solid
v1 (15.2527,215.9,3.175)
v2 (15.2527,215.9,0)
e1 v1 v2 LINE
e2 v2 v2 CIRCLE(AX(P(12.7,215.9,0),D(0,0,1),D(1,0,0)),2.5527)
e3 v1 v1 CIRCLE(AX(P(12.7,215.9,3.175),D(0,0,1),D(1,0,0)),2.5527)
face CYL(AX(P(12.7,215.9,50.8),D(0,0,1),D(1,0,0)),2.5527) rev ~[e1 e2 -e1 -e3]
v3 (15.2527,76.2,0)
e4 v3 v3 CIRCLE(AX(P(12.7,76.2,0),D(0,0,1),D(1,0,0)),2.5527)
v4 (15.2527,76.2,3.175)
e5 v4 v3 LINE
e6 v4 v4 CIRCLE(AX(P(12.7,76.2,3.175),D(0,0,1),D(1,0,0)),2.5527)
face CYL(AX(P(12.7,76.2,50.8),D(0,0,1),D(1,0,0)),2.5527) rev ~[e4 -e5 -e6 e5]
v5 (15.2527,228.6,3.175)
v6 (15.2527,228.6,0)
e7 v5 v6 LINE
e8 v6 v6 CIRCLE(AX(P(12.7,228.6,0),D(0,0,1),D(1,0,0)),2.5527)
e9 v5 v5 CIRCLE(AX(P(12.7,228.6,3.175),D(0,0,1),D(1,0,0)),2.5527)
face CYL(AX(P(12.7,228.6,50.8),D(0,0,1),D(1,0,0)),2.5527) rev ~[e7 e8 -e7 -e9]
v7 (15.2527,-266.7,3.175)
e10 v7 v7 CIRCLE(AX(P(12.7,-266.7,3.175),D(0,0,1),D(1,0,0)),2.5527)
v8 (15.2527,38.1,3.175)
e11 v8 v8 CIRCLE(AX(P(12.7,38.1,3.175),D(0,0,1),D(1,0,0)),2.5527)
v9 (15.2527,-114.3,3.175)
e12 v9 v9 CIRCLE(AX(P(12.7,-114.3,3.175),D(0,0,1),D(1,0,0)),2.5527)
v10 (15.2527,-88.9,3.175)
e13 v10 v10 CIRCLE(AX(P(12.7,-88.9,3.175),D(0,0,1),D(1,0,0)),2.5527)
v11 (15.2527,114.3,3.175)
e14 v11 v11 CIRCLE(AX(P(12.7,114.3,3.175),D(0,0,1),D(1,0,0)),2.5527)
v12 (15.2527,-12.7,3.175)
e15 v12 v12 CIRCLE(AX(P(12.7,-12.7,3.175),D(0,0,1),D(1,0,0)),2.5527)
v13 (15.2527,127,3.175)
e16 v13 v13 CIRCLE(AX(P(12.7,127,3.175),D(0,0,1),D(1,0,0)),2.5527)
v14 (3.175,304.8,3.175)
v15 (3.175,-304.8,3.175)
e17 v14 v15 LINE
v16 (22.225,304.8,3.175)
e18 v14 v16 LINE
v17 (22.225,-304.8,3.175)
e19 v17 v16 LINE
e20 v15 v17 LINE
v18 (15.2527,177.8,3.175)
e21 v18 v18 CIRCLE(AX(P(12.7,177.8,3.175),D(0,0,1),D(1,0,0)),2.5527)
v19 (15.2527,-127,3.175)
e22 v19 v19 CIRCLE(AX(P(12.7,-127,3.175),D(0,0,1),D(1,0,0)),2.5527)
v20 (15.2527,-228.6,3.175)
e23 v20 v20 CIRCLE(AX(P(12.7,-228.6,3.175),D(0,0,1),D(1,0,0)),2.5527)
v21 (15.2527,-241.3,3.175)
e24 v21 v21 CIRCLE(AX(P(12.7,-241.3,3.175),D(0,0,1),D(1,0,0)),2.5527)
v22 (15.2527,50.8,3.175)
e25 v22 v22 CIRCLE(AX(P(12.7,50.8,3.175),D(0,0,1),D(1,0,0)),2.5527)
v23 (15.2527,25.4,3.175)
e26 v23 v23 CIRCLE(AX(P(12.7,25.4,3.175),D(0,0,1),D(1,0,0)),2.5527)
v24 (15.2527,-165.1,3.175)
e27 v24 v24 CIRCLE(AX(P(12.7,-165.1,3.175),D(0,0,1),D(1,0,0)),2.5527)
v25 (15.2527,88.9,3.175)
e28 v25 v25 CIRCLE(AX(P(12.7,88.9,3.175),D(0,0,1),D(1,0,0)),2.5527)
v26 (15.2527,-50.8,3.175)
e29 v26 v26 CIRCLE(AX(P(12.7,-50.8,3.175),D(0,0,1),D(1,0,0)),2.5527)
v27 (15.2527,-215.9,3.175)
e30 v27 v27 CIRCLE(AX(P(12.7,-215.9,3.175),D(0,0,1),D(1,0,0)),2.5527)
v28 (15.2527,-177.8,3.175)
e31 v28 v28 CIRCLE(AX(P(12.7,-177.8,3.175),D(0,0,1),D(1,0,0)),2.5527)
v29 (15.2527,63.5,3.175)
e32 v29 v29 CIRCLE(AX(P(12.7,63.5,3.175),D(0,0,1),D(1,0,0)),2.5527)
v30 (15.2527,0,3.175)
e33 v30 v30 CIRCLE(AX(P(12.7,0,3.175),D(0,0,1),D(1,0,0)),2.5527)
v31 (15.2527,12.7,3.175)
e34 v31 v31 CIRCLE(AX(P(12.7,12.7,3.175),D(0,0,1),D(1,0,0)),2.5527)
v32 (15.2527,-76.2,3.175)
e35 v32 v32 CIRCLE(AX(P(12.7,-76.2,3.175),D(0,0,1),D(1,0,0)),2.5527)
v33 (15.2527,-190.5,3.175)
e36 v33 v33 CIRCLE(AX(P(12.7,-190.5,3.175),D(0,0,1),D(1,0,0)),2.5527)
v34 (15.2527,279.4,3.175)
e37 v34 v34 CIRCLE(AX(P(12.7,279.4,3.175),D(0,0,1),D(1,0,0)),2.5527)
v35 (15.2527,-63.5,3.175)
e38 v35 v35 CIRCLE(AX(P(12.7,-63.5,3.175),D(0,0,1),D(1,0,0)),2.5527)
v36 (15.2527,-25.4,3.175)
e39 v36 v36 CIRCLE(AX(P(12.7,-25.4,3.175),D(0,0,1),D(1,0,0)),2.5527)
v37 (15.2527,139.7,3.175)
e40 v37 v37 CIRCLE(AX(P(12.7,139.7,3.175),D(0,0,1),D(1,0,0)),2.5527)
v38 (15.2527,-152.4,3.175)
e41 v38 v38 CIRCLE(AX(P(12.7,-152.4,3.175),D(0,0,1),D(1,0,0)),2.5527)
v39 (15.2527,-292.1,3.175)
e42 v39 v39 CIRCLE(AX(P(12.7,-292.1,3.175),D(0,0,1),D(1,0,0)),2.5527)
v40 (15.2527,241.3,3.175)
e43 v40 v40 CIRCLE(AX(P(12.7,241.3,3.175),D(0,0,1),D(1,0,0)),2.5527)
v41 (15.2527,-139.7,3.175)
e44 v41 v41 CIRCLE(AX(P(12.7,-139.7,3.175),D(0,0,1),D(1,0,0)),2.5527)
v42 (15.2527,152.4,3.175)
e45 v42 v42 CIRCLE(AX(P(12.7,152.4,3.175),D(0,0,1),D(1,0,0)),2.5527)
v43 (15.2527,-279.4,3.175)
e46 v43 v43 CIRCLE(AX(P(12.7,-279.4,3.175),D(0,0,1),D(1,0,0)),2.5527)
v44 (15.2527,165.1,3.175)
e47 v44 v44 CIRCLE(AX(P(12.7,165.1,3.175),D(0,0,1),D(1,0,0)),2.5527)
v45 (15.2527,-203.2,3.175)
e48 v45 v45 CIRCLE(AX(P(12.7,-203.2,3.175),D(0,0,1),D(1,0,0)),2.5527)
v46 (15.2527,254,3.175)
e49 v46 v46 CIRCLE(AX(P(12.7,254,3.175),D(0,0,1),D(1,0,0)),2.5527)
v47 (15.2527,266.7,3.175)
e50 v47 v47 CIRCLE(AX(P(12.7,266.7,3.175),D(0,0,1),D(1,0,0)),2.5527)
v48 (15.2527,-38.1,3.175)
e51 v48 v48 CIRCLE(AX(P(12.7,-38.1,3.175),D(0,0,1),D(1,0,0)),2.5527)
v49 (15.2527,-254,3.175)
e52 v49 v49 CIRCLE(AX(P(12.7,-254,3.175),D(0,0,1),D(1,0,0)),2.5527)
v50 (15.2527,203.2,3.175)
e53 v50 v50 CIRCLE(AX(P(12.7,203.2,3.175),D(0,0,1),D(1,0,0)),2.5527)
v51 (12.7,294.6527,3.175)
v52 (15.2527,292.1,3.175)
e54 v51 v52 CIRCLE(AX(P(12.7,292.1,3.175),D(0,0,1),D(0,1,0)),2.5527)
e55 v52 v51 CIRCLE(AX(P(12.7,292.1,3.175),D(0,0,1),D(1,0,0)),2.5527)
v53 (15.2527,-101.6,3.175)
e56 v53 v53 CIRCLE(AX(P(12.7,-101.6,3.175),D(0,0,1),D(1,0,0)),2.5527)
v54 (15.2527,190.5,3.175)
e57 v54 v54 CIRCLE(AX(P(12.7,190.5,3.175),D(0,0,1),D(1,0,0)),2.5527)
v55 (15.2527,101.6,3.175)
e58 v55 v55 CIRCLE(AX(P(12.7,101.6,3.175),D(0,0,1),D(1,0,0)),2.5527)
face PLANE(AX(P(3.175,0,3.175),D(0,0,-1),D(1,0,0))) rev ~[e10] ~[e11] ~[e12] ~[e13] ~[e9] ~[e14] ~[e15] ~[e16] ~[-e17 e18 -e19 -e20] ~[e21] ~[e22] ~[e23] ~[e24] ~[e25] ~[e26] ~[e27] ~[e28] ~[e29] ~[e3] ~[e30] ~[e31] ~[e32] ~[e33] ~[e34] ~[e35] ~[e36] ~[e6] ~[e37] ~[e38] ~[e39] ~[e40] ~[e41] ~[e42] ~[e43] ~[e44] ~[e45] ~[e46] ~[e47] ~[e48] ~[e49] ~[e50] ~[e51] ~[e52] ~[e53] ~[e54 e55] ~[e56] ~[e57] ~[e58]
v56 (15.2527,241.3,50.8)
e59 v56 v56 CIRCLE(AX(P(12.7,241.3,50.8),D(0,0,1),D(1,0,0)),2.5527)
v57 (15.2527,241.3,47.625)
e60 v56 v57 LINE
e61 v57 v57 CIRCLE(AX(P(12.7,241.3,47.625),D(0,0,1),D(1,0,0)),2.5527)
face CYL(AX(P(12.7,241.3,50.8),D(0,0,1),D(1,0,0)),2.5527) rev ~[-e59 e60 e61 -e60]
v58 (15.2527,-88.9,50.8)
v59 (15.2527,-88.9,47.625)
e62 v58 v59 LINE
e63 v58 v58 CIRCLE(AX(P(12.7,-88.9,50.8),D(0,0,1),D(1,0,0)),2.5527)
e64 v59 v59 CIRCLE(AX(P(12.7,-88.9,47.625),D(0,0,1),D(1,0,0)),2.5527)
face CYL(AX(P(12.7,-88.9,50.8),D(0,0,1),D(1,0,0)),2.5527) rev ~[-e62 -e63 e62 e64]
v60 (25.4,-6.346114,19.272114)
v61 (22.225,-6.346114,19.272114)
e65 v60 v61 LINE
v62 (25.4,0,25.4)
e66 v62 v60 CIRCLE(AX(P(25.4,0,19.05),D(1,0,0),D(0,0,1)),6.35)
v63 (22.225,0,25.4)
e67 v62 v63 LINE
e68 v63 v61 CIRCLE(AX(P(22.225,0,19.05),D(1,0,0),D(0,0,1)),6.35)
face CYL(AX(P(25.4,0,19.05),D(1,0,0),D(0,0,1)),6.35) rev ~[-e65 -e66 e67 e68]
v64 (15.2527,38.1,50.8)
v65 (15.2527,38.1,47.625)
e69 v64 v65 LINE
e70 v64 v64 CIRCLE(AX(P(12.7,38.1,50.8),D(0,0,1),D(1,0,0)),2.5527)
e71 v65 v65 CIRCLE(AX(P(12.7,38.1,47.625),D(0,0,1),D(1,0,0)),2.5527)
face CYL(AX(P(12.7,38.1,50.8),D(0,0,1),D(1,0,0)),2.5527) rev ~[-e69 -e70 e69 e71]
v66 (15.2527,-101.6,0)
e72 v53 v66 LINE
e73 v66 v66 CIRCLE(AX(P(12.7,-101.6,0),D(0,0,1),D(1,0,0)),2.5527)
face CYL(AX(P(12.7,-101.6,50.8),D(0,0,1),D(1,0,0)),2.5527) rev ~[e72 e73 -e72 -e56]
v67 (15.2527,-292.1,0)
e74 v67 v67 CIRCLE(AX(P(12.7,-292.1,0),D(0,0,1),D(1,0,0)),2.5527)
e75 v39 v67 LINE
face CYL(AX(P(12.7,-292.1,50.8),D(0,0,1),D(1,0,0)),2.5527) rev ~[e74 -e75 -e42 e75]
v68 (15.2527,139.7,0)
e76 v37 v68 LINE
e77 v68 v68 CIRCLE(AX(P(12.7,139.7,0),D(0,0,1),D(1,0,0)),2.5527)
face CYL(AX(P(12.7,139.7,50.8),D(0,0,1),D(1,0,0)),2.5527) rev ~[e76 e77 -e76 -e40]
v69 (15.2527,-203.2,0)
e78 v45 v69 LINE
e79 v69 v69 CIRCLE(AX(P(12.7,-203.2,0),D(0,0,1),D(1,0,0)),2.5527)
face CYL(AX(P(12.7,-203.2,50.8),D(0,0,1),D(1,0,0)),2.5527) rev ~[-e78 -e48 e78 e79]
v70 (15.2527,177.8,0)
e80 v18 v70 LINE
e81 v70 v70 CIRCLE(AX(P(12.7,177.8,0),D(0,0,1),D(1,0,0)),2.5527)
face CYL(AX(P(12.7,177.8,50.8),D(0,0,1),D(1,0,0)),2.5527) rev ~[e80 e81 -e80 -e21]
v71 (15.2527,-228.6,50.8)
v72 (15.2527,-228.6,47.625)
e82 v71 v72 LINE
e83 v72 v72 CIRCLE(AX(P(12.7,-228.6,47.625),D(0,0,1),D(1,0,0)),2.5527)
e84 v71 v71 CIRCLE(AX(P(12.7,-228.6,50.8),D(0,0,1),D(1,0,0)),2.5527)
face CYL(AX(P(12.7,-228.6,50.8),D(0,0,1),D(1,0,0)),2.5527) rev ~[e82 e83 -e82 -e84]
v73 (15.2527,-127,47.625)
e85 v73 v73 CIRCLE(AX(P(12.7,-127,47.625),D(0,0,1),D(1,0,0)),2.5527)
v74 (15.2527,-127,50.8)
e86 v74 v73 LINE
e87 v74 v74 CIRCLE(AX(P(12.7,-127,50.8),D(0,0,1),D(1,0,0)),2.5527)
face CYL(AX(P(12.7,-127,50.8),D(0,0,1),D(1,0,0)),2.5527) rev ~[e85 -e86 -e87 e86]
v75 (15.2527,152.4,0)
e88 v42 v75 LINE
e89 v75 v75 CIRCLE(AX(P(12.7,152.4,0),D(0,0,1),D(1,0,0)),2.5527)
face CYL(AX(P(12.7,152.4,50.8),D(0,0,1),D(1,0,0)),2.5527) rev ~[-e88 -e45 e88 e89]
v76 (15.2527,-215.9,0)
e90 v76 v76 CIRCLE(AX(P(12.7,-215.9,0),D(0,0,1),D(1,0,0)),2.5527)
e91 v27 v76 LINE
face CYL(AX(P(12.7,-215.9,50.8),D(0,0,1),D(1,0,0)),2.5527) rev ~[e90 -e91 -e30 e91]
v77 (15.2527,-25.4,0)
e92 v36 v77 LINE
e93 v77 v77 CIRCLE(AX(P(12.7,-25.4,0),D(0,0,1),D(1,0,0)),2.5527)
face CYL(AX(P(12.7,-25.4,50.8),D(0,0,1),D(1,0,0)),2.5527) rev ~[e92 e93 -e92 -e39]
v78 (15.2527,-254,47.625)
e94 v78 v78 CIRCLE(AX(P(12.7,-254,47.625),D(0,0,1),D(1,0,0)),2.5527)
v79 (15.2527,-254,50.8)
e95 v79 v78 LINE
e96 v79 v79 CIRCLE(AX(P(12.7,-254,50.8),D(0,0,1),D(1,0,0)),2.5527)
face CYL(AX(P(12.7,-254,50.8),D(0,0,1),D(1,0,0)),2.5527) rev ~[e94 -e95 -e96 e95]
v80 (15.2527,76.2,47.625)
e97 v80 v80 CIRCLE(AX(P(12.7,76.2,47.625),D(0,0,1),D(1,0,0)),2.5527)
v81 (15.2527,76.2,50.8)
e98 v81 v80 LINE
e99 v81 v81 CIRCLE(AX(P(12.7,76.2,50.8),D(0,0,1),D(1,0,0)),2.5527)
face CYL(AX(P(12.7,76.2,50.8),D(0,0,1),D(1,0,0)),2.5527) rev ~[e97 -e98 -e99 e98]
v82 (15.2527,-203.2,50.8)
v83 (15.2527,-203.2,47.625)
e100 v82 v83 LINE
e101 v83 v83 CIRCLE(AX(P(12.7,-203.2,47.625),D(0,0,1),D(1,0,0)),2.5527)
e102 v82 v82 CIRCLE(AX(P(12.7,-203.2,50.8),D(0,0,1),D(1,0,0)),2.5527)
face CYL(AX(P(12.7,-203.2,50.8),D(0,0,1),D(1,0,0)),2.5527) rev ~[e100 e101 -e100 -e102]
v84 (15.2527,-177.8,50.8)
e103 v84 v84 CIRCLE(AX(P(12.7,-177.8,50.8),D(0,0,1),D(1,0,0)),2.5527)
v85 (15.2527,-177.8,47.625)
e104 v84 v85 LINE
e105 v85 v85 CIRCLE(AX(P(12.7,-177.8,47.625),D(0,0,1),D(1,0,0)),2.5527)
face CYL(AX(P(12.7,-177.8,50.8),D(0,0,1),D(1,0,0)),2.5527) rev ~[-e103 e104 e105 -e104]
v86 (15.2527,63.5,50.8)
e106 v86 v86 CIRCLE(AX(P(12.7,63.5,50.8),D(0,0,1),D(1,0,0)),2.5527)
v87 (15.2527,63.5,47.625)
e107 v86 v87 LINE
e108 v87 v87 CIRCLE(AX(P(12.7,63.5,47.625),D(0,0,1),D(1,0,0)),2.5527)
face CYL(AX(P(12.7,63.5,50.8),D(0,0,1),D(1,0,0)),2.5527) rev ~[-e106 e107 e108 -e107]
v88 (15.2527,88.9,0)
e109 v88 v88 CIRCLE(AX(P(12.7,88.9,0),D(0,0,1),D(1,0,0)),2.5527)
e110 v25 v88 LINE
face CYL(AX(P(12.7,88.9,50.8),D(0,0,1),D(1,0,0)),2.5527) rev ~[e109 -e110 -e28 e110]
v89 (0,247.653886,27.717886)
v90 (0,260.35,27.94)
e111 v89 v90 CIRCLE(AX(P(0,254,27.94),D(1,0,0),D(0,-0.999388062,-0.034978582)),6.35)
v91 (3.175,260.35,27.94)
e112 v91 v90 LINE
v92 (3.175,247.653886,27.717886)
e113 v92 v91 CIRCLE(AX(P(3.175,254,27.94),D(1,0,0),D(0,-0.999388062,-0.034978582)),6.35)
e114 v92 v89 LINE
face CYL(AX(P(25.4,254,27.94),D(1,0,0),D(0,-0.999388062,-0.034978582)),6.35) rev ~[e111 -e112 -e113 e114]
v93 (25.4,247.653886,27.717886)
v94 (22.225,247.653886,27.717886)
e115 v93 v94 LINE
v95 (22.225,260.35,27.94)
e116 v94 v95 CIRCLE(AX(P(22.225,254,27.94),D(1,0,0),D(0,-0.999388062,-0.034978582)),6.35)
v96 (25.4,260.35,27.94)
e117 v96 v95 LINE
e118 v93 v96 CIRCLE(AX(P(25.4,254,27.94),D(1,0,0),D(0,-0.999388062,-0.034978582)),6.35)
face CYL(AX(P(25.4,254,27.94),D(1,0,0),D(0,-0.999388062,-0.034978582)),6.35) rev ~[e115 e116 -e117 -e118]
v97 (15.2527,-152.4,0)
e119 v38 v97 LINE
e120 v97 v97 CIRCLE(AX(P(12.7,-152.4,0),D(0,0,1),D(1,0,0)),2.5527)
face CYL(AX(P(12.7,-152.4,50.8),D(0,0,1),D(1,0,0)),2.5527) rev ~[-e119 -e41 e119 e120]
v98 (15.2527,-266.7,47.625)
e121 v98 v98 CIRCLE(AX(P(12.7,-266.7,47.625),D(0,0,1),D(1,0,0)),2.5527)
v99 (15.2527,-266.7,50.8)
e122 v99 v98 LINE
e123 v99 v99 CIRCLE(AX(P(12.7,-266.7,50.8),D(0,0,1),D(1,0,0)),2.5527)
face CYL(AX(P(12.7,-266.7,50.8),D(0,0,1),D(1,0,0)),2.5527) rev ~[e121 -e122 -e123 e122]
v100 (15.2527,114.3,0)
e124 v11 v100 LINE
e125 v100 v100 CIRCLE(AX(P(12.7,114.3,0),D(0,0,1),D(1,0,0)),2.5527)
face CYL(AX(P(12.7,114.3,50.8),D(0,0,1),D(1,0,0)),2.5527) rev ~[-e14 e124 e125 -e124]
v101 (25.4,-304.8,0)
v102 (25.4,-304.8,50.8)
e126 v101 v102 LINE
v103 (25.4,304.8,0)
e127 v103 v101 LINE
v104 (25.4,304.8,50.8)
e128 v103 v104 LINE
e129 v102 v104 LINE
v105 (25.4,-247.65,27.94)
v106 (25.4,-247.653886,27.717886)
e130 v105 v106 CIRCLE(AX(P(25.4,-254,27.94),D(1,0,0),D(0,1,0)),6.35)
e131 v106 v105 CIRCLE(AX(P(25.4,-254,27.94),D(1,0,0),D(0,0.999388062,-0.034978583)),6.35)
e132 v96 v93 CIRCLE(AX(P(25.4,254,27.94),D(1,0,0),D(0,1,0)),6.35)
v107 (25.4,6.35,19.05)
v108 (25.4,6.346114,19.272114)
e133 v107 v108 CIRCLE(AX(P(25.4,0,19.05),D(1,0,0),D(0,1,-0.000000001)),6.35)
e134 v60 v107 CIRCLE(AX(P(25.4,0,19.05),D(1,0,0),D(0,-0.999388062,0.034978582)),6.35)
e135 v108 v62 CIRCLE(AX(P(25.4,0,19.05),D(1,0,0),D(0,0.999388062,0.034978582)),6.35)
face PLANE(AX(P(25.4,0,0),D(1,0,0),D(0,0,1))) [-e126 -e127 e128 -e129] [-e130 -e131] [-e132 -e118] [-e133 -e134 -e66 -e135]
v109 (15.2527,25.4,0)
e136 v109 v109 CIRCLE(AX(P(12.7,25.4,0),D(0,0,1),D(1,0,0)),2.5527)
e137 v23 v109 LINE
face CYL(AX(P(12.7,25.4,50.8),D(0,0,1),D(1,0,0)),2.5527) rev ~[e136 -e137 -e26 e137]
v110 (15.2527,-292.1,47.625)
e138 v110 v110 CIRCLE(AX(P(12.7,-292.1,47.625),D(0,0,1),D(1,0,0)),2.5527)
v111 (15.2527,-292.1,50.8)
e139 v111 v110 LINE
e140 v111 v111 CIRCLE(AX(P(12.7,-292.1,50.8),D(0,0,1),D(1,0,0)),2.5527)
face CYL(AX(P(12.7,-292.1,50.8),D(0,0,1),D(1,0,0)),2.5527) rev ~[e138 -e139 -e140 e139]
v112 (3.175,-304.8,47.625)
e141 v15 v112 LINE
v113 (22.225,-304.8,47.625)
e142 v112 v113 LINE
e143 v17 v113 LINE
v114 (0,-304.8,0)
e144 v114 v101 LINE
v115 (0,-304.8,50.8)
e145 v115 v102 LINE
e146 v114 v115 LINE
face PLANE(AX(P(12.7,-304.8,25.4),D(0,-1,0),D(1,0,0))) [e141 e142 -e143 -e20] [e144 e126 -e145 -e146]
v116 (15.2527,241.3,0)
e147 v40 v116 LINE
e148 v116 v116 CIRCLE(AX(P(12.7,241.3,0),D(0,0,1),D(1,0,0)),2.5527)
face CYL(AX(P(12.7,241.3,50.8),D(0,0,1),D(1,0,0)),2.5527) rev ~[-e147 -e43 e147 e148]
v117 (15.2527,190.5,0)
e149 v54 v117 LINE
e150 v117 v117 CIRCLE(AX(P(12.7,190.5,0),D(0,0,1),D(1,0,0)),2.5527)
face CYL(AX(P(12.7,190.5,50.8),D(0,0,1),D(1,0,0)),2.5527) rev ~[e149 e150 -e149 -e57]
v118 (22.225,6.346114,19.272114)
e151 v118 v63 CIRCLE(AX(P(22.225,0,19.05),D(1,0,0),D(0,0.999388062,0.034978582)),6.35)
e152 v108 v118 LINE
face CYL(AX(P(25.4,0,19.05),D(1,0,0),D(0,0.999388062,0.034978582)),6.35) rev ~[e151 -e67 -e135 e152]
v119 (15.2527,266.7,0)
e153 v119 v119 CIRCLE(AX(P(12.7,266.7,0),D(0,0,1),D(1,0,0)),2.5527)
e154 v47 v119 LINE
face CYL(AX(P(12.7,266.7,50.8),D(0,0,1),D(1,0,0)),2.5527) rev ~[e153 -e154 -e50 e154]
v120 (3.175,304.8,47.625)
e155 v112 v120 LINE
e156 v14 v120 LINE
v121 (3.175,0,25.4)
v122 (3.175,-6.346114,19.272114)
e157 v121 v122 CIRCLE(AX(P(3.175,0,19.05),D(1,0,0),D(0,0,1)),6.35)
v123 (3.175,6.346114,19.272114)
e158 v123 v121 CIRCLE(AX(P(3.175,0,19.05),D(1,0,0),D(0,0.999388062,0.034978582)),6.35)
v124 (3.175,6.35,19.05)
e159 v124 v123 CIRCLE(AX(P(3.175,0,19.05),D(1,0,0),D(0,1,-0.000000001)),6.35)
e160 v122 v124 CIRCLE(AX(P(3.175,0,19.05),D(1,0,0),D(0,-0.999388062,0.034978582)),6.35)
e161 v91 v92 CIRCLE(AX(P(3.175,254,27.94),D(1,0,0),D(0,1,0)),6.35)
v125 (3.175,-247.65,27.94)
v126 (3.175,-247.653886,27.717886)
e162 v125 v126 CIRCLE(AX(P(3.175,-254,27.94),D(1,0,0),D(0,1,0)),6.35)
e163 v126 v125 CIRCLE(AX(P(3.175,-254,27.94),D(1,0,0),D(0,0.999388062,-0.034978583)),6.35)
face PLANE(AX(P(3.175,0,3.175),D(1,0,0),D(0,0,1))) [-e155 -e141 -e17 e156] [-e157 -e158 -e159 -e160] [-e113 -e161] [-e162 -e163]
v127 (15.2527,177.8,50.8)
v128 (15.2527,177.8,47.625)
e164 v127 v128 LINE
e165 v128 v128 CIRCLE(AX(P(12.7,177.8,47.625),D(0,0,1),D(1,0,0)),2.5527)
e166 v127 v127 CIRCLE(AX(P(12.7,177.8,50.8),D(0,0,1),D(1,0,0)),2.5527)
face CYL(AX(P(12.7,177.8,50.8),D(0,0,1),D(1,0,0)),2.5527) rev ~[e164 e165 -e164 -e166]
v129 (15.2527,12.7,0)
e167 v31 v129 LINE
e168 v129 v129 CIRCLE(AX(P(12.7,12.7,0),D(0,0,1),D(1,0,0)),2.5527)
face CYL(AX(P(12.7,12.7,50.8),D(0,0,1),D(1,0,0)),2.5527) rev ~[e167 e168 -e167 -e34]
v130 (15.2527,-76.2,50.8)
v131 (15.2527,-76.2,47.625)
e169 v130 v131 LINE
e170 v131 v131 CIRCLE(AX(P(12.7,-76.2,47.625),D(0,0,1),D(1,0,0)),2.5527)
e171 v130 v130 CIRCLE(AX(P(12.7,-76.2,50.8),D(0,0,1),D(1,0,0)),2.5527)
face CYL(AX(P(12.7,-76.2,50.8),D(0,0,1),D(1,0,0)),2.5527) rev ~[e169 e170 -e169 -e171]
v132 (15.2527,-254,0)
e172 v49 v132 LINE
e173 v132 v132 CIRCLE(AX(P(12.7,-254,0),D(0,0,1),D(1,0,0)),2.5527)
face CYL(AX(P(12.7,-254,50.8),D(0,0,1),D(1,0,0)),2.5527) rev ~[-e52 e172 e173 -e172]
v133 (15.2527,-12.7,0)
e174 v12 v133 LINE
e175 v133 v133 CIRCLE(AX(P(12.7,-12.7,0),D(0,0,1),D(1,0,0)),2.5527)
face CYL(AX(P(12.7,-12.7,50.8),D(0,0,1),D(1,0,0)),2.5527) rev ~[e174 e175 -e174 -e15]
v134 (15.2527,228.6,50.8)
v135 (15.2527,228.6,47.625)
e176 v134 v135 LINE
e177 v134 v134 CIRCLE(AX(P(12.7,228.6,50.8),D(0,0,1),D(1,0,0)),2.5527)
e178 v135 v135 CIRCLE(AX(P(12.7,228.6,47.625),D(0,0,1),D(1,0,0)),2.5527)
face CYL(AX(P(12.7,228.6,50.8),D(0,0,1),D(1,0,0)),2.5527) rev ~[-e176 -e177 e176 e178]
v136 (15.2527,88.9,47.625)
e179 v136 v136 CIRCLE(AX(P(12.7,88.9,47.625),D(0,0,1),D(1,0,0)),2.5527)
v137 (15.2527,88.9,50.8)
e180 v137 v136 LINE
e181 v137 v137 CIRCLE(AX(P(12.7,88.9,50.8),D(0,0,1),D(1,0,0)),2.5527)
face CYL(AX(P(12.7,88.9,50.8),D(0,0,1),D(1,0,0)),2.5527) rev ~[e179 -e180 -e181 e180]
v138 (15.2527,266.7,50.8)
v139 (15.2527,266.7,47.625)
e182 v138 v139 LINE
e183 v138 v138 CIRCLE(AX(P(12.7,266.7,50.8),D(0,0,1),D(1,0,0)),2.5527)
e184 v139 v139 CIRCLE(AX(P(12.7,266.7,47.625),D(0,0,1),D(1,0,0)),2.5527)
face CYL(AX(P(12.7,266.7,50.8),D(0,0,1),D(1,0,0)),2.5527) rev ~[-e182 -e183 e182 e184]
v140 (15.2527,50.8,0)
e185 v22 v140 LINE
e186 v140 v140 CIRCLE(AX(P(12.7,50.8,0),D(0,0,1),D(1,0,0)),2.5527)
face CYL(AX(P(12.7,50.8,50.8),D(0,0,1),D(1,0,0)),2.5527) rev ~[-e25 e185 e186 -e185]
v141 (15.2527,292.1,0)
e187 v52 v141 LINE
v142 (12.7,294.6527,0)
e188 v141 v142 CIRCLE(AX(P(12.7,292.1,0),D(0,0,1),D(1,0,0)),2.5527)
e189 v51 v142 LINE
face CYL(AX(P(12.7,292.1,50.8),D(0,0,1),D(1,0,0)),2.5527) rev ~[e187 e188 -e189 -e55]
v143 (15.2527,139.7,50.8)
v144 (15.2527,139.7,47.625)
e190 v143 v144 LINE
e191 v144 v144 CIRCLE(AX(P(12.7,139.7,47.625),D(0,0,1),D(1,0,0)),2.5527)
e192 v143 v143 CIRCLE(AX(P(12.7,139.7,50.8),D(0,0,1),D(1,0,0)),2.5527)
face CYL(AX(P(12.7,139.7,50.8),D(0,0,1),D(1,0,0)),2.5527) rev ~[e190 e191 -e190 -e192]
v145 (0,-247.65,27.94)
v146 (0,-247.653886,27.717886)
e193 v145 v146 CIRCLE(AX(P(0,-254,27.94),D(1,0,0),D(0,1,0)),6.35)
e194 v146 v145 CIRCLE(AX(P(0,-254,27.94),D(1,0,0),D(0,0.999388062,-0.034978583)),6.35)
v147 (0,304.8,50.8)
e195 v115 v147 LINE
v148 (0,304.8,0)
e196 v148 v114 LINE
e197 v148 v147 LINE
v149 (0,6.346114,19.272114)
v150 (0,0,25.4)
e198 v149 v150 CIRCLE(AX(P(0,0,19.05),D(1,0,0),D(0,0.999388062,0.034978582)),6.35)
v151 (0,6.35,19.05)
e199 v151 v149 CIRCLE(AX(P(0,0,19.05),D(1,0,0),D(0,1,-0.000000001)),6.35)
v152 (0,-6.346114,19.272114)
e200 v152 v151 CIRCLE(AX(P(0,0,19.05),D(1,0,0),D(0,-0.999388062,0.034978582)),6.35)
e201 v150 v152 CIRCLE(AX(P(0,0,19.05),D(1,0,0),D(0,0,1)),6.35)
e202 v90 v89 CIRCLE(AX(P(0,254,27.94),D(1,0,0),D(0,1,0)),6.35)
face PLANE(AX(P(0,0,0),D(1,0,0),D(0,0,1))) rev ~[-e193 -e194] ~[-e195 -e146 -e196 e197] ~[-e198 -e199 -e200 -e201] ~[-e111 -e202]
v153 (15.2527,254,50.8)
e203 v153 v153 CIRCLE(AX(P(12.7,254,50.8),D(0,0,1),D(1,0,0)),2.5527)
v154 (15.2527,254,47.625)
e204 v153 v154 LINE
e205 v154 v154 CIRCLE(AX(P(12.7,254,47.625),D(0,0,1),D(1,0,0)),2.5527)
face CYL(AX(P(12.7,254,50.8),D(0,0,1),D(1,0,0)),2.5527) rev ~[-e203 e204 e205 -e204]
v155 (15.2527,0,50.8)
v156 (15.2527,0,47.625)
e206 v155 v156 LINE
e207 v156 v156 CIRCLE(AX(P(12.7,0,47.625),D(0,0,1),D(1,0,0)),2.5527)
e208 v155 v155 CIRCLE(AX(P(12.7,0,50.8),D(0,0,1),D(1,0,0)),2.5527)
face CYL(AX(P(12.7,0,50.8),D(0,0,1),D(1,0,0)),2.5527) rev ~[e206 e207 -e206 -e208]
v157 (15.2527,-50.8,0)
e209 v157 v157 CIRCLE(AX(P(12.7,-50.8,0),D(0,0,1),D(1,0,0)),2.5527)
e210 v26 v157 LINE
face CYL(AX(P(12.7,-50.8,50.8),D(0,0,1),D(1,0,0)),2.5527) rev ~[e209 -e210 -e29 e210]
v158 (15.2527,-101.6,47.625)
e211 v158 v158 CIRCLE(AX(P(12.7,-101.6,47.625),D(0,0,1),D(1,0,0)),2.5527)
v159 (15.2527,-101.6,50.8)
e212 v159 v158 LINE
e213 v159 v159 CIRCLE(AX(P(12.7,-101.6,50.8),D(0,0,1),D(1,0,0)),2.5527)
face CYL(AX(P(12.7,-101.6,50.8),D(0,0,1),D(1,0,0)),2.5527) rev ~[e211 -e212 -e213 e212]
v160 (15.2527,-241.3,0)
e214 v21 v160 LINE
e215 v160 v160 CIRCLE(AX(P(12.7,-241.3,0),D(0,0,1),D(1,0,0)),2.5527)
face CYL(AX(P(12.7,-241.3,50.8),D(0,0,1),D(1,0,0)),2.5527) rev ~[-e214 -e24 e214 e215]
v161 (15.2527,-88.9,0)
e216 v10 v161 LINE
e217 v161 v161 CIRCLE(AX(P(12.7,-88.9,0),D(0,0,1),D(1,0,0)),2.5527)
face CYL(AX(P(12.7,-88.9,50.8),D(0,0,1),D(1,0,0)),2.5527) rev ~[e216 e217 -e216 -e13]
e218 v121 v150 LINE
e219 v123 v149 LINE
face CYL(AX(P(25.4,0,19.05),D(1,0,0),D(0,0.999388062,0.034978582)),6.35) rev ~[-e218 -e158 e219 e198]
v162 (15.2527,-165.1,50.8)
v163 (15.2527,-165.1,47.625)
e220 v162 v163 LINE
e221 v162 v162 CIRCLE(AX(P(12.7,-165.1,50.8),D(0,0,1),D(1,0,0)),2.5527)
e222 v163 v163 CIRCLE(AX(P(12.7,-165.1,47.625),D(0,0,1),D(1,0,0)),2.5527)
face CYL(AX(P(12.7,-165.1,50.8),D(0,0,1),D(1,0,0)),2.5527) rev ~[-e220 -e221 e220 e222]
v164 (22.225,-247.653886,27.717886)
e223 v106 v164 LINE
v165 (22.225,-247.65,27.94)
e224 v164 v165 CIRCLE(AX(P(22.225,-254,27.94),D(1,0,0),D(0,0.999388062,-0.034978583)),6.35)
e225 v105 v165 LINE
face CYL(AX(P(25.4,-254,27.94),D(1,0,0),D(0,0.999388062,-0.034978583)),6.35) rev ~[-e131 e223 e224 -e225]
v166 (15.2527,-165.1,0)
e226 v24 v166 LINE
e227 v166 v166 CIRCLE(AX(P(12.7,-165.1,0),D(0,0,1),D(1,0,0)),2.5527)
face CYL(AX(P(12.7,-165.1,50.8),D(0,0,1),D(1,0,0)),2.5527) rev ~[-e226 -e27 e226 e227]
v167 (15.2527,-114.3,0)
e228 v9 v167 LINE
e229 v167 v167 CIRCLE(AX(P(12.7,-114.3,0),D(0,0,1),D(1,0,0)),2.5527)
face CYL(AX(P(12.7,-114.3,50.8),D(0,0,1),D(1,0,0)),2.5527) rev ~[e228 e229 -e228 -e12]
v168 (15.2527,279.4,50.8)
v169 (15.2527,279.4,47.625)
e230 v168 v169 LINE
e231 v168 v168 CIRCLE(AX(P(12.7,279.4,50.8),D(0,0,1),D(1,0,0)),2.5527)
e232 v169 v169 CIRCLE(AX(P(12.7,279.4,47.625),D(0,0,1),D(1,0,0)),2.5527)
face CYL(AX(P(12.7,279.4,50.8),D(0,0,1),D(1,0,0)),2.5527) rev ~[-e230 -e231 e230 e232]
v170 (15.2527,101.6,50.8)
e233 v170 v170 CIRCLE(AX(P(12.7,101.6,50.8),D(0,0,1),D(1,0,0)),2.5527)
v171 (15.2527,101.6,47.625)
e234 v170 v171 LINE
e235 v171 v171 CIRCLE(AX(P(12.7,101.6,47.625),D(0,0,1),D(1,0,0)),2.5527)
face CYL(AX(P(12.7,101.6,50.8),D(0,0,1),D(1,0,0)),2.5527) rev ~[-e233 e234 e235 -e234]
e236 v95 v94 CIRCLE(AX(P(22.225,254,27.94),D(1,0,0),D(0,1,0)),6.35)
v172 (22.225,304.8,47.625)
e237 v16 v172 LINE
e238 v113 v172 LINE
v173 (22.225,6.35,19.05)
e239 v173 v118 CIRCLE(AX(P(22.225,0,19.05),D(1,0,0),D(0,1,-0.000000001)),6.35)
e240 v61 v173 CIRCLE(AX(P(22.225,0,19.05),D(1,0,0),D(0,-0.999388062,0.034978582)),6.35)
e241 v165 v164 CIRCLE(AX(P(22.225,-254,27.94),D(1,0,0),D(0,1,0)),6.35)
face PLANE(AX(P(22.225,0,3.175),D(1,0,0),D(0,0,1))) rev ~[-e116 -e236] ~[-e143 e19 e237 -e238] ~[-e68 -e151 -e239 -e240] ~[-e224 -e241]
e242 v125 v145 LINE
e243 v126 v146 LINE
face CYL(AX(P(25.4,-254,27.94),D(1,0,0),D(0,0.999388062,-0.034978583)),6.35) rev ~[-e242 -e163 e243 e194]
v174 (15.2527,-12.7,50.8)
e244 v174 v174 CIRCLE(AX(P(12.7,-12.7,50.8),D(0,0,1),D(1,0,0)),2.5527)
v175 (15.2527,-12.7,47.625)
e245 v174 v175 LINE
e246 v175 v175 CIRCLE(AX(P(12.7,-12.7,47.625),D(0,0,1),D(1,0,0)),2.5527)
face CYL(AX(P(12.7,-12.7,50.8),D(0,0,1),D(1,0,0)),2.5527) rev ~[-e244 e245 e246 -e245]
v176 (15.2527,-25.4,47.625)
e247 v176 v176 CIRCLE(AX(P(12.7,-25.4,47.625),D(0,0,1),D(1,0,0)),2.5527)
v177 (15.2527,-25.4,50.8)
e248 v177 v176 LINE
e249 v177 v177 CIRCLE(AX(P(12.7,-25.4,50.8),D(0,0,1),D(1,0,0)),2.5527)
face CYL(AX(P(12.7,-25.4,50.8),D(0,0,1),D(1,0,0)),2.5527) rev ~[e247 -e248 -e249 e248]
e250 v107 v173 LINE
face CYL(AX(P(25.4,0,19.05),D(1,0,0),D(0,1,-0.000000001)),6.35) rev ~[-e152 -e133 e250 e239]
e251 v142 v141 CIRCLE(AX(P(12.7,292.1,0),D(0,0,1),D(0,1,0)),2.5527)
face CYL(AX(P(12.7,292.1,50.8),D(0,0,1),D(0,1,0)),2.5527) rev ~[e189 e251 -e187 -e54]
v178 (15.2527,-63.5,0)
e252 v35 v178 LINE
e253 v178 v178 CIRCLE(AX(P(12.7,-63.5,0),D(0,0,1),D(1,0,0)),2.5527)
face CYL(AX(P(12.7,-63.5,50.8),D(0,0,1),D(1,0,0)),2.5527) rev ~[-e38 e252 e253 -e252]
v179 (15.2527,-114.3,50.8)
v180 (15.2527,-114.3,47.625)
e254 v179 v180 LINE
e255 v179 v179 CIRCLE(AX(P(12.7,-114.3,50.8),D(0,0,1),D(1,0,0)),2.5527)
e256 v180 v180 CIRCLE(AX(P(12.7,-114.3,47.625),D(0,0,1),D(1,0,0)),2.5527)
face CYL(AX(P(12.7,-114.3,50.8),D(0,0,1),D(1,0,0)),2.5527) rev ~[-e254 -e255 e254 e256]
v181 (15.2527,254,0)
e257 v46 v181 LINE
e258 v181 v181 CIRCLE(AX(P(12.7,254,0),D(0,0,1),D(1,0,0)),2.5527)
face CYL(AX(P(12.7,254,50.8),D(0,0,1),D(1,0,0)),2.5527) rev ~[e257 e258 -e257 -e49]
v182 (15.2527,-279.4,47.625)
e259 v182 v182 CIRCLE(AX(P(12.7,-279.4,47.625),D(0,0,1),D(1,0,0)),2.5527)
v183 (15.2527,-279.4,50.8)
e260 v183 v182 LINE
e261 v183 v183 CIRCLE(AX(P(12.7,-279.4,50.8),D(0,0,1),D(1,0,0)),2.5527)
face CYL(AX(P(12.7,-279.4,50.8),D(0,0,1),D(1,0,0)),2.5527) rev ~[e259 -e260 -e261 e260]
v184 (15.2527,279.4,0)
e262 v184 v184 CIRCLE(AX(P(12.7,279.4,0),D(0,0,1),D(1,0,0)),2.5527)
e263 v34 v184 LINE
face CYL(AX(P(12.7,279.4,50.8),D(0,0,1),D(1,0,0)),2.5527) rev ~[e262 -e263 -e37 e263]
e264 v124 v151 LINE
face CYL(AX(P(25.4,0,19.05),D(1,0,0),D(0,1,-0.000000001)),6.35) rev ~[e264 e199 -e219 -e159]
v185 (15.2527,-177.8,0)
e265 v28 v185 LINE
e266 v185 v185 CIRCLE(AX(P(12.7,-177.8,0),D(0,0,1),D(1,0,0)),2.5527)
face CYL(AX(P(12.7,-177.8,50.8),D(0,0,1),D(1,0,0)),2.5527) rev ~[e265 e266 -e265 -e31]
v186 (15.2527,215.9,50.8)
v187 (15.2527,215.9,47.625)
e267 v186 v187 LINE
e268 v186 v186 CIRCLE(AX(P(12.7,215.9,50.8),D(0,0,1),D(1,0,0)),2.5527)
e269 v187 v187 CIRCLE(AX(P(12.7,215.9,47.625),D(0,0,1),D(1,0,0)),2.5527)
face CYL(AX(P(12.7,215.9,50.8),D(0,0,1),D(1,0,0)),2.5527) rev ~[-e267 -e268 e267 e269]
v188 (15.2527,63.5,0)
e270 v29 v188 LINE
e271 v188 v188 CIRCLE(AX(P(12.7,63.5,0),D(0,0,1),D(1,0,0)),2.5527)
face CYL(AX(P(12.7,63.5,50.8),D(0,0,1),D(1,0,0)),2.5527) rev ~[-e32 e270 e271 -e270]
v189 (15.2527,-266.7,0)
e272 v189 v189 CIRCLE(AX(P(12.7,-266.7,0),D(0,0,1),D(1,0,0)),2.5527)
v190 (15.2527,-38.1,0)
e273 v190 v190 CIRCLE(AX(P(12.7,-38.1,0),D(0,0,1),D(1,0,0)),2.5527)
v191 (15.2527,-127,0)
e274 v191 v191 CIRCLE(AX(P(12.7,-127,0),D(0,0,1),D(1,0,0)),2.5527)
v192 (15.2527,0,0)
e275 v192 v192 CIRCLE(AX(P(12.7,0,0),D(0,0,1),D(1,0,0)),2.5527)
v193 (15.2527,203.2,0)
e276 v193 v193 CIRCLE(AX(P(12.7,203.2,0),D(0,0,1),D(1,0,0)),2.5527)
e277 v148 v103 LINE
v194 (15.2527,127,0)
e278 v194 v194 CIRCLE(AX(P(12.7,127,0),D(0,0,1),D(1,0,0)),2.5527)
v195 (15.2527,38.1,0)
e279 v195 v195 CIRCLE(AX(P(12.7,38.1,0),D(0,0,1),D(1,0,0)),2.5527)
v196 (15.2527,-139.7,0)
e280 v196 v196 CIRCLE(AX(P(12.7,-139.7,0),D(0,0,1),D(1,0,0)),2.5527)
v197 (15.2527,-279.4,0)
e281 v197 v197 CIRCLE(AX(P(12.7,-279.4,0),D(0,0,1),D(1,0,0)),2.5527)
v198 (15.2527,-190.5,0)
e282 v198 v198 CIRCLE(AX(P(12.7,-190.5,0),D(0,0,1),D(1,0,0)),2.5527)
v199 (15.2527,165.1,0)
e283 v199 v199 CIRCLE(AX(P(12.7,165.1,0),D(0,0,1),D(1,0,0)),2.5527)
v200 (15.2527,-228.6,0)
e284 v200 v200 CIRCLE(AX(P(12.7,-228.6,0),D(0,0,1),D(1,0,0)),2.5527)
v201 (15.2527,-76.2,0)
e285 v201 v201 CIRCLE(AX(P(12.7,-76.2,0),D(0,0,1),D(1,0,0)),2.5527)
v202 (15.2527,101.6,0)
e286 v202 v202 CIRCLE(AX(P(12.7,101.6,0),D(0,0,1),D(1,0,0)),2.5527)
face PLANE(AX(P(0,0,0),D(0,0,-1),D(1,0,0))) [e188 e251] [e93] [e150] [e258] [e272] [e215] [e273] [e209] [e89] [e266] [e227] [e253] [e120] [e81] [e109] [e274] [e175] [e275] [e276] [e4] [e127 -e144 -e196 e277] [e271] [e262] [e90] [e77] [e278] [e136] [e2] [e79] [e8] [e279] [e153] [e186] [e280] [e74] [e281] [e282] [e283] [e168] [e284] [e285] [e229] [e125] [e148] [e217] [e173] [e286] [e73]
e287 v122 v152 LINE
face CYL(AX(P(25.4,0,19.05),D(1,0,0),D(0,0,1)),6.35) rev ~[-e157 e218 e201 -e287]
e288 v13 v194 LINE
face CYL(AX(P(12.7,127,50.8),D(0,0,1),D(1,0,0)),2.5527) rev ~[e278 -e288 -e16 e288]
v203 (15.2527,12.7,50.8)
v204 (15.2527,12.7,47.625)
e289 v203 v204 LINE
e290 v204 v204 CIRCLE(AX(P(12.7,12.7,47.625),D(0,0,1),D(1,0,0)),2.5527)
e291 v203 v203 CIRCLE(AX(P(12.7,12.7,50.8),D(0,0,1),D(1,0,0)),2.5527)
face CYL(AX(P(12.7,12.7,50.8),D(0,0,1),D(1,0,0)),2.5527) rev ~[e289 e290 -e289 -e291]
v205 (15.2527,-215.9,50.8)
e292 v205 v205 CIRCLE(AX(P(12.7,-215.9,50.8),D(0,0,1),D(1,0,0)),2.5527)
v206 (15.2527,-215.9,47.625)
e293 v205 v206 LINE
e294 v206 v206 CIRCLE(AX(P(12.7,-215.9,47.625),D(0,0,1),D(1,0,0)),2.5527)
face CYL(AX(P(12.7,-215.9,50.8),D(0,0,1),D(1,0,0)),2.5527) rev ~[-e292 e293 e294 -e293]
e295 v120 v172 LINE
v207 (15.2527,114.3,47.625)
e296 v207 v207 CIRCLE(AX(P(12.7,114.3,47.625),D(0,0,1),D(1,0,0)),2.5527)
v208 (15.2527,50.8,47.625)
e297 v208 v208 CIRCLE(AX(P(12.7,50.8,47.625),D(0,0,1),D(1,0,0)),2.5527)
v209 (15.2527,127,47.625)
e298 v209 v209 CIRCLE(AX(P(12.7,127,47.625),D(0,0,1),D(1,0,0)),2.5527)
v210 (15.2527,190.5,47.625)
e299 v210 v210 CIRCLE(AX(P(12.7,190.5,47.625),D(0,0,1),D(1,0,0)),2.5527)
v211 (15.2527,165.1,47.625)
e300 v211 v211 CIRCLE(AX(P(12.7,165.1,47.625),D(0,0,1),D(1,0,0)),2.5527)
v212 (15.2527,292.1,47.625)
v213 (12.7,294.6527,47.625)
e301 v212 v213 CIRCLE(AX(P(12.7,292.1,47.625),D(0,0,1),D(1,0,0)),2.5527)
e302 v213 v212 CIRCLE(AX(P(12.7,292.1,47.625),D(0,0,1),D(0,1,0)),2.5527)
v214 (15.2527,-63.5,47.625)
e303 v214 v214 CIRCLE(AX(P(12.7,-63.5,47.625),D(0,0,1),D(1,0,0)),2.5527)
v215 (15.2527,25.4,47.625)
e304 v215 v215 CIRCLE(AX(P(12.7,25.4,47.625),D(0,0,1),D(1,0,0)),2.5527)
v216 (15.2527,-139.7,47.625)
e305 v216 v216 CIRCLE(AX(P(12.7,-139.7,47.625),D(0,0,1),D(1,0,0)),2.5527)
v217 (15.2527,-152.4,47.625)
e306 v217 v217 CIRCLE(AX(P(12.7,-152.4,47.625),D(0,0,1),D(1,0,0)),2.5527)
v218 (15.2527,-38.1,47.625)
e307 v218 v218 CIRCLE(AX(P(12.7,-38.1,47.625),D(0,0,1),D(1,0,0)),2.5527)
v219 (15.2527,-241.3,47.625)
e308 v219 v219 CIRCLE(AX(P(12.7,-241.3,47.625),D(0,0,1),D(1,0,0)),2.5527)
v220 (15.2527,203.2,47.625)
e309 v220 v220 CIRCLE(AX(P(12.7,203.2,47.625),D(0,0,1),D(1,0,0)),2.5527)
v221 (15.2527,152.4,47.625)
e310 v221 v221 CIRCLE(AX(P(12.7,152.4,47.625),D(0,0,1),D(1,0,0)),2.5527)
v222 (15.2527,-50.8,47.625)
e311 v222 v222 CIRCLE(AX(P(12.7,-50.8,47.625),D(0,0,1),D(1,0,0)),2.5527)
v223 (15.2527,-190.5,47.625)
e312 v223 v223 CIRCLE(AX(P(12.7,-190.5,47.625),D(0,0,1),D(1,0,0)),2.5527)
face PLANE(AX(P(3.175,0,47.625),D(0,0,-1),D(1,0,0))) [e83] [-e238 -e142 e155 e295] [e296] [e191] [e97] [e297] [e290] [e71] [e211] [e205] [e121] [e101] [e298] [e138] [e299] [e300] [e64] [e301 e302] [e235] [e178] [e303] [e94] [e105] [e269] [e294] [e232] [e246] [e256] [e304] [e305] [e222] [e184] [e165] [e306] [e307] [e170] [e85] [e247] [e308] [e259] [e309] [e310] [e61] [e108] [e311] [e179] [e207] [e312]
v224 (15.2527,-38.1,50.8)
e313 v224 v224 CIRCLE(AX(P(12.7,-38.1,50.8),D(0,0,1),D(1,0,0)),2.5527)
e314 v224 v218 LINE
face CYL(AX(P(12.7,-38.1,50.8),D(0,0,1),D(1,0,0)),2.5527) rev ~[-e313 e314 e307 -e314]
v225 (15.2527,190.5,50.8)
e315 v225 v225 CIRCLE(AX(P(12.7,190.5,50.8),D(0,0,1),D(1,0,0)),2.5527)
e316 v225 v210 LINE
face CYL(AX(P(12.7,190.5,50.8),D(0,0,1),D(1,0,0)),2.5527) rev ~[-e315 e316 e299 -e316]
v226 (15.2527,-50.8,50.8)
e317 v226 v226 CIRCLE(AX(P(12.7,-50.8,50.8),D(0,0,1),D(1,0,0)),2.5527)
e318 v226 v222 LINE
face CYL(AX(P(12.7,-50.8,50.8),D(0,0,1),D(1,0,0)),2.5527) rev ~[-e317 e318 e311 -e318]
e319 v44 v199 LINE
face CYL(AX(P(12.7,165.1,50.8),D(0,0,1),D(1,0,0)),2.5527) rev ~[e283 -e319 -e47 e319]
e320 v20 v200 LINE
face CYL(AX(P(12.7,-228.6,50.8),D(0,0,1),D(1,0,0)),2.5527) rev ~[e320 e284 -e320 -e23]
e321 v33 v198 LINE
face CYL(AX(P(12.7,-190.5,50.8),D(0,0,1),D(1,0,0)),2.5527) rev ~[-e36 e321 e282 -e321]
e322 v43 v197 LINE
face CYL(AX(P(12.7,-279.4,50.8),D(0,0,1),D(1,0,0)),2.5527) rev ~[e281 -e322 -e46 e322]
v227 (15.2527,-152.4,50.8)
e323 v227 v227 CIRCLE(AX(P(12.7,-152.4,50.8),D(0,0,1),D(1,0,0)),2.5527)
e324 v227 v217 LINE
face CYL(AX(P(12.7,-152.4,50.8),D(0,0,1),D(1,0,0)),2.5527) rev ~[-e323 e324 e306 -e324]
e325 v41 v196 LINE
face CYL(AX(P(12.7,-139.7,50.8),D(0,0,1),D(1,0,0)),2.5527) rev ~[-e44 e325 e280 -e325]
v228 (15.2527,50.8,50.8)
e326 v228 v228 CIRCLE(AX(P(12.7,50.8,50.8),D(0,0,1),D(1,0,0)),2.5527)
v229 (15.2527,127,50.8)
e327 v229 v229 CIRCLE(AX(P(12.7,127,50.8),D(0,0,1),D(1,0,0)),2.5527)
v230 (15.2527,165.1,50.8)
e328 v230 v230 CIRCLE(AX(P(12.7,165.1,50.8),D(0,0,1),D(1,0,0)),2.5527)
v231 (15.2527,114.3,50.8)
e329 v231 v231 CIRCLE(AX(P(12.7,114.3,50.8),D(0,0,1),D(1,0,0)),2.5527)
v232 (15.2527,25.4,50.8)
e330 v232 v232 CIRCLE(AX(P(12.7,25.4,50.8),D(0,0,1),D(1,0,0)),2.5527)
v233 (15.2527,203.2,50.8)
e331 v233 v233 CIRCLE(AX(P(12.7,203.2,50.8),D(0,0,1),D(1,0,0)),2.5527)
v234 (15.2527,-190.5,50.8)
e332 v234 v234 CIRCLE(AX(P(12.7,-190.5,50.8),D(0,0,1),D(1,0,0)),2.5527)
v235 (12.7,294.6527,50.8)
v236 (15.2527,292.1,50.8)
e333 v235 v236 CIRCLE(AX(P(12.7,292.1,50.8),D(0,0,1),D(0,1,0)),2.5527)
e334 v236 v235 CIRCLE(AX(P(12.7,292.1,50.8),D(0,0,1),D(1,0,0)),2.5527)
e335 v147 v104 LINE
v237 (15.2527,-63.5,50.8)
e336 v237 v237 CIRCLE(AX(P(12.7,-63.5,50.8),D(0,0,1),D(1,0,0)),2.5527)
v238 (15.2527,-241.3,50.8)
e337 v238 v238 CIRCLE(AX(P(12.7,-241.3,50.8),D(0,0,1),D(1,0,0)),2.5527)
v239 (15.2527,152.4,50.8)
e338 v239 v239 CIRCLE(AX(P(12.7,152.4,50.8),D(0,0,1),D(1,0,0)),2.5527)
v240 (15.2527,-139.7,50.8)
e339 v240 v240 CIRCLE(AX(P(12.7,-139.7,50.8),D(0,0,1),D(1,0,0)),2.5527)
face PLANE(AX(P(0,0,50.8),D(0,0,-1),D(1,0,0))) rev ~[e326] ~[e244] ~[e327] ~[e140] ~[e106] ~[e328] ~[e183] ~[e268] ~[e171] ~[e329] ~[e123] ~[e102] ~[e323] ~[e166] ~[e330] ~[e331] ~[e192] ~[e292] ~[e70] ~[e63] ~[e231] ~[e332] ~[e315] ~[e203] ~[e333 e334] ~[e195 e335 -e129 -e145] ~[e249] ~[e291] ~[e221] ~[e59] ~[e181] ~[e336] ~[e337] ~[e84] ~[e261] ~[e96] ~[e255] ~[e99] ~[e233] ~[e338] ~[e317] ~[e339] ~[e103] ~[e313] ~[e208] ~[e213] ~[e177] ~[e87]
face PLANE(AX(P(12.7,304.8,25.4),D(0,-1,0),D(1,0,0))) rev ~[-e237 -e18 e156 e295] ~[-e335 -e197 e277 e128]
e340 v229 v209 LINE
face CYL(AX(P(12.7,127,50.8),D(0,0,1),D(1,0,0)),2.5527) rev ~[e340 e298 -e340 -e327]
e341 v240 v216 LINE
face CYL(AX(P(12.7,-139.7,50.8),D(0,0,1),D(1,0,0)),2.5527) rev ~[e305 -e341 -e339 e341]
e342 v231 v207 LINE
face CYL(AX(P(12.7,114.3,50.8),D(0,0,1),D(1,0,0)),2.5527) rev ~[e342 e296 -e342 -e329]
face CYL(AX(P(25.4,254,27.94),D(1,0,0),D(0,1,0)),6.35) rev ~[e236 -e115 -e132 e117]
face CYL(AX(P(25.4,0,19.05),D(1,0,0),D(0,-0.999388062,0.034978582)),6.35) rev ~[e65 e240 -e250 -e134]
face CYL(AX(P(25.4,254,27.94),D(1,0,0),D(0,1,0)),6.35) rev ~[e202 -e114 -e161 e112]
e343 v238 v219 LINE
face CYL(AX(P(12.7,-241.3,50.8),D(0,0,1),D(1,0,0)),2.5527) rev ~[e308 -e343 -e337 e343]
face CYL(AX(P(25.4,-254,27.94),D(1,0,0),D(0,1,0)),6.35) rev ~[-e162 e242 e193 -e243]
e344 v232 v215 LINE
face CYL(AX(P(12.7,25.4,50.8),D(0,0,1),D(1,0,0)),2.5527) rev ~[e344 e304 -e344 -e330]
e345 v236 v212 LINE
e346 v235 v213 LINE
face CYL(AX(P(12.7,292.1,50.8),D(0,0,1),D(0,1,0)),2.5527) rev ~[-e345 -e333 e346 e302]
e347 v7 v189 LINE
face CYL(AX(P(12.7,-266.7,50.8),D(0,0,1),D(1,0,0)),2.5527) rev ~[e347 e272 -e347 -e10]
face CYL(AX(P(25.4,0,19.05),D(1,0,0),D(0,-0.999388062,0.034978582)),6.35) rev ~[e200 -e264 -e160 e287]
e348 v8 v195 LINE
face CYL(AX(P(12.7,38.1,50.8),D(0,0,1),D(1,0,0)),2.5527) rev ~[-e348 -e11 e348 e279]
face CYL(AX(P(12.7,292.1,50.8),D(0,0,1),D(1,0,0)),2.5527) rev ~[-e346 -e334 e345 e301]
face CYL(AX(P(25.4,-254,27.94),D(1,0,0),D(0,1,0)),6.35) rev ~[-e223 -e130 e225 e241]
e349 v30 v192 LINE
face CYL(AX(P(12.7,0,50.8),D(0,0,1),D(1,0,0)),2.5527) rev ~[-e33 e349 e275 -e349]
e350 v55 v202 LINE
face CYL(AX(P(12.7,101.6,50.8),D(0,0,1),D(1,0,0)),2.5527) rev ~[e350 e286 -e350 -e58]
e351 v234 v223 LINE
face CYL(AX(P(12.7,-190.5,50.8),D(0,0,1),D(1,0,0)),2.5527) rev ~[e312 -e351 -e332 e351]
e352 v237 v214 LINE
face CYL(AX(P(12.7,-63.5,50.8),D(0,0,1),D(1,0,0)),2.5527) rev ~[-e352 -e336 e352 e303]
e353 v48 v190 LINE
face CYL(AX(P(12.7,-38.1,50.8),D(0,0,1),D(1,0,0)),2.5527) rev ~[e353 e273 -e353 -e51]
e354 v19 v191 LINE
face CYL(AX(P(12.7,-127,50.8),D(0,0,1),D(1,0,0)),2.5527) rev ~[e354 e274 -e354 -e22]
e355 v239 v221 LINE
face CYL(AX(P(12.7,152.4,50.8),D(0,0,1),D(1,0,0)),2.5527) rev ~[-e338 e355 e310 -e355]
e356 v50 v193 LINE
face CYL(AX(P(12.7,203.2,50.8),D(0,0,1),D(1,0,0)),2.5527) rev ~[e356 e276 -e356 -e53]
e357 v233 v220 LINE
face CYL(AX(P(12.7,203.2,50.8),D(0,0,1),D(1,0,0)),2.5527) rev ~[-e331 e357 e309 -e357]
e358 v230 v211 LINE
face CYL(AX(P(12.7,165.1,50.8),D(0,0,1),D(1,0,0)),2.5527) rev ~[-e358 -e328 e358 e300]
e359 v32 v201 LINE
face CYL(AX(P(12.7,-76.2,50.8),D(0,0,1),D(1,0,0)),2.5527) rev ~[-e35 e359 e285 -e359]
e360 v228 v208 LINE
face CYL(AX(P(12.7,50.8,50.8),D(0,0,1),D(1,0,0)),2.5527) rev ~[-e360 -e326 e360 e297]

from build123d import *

# Parameters (mm, degrees)
F0_W     = 25.4
F0_H     = 50.8
F0_W_2   = 19.05
F0_H_2   = 44.45
F1_DEPTH = 304.8
F2_R     = 2.5527
F3_DEPTH = 50.801
F5_DEPTH = 25.401


with BuildPart() as f1:
    # F0 (on Front) → F1 (new body, symmetric)
    with BuildSketch(Plane.XZ):
        with Locations((12.7, 25.4)):
            Rectangle(F0_W, F0_H)
        with Locations((12.7, 25.4)):
            Rectangle(F0_W_2, F0_H_2, mode=Mode.SUBTRACT)
    extrude(amount=F1_DEPTH, both=True)

    # F2 (on face) → F3 (cut, through all)
    with BuildSketch(Plane.XY.offset(50.8)):
        with BuildLine():
            ThreePointArc((12.7, 294.6527), (10.8949685197, 290.2949685197), (15.2527, 292.1))
            ThreePointArc((15.2527, 292.1), (14.5050314803, 293.9050314803), (12.7, 294.6527))
        make_face()
        with Locations((12.7, 279.4)):
            Circle(F2_R)
        with Locations((12.7, 266.7)):
            Circle(F2_R)
        with Locations((12.7, 254)):
            Circle(F2_R)
        with Locations((12.7, 241.3)):
            Circle(F2_R)
        with Locations((12.7, 228.6)):
            Circle(F2_R)
        with Locations((12.7, 215.9)):
            Circle(F2_R)
        with Locations((12.7, 203.2)):
            Circle(F2_R)
        with Locations((12.7, 190.5)):
            Circle(F2_R)
        with Locations((12.7, 177.8)):
            Circle(F2_R)
        with Locations((12.7, 165.1)):
            Circle(F2_R)
        with Locations((12.7, 152.4)):
            Circle(F2_R)
        with Locations((12.7, 139.7)):
            Circle(F2_R)
        with Locations((12.7, 127)):
            Circle(F2_R)
        with Locations((12.7, 114.3)):
            Circle(F2_R)
        with Locations((12.7, 101.6)):
            Circle(F2_R)
        with Locations((12.7, 88.9)):
            Circle(F2_R)
        with Locations((12.7, 76.2)):
            Circle(F2_R)
        with Locations((12.7, 63.5)):
            Circle(F2_R)
        with Locations((12.7, 50.8)):
            Circle(F2_R)
        with Locations((12.7, 38.1)):
            Circle(F2_R)
        with Locations((12.7, 25.4)):
            Circle(F2_R)
        with Locations((12.7, 12.7)):
            Circle(F2_R)
        with Locations((12.7, 0)):
            Circle(F2_R)
        with Locations((12.7, -12.7)):
            Circle(F2_R)
        with Locations((12.7, -25.4)):
            Circle(F2_R)
        with Locations((12.7, -38.1)):
            Circle(F2_R)
        with Locations((12.7, -50.8)):
            Circle(F2_R)
        with Locations((12.7, -63.5)):
            Circle(F2_R)
        with Locations((12.7, -76.2)):
            Circle(F2_R)
        with Locations((12.7, -88.9)):
            Circle(F2_R)
        with Locations((12.7, -101.6)):
            Circle(F2_R)
        with Locations((12.7, -114.3)):
            Circle(F2_R)
        with Locations((12.7, -127)):
            Circle(F2_R)
        with Locations((12.7, -139.7)):
            Circle(F2_R)
        with Locations((12.7, -152.4)):
            Circle(F2_R)
        with Locations((12.7, -165.1)):
            Circle(F2_R)
        with Locations((12.7, -177.8)):
            Circle(F2_R)
        with Locations((12.7, -190.5)):
            Circle(F2_R)
        with Locations((12.7, -203.2)):
            Circle(F2_R)
        with Locations((12.7, -215.9)):
            Circle(F2_R)
        with Locations((12.7, -228.6)):
            Circle(F2_R)
        with Locations((12.7, -241.3)):
            Circle(F2_R)
        with Locations((12.7, -254)):
            Circle(F2_R)
        with Locations((12.7, -266.7)):
            Circle(F2_R)
        with Locations((12.7, -279.4)):
            Circle(F2_R)
        with Locations((12.7, -292.1)):
            Circle(F2_R)
    extrude(amount=-F3_DEPTH, mode=Mode.SUBTRACT)

    # F4 (on face) → F5 (cut, through all)
    with BuildSketch(Plane.YZ.offset(25.4)):
        with BuildLine():
            ThreePointArc((-247.65, 27.94), (-260.3490284744, 28.0510739923), (-247.6538858053, 27.7178860032))
            ThreePointArc((-247.6538858053, 27.7178860032), (-247.6509715256, 27.8289260077), (-247.65, 27.94))
        make_face()
        with BuildLine():
            Line((6.3461141947, 19.2721139968), (0, 19.05))
            Line((0, 19.05), (-6.3461141947, 19.2721139968))
            ThreePointArc((-6.3461141947, 19.2721139968), (-0.1110739923, 12.7009715256), (6.35, 19.05))
            ThreePointArc((6.35, 19.05), (6.3490284744, 19.1610739923), (6.3461141947, 19.2721139968))
        make_face()
        with BuildLine():
            Line((0, 25.4), (0, 19.05))
            Line((0, 19.05), (6.3461141947, 19.2721139968))
            ThreePointArc((6.3461141947, 19.2721139968), (4.410899915, 23.6179822613), (0, 25.4))
        make_face()
        with BuildLine():
            Line((-6.3461141947, 19.2721139968), (0, 19.05))
            Line((0, 19.05), (0, 25.4))
            ThreePointArc((0, 25.4), (-4.410899915, 23.6179822613), (-6.3461141947, 19.2721139968))
        make_face()
        with BuildLine():
            ThreePointArc((260.35, 27.94), (253.8889260077, 34.2890284744), (247.6538858053, 27.7178860032))
            ThreePointArc((247.6538858053, 27.7178860032), (254.1110739923, 21.5909715256), (260.35, 27.94))
        make_face()
    extrude(amount=-F5_DEPTH, mode=Mode.SUBTRACT)


solid = f1.part
